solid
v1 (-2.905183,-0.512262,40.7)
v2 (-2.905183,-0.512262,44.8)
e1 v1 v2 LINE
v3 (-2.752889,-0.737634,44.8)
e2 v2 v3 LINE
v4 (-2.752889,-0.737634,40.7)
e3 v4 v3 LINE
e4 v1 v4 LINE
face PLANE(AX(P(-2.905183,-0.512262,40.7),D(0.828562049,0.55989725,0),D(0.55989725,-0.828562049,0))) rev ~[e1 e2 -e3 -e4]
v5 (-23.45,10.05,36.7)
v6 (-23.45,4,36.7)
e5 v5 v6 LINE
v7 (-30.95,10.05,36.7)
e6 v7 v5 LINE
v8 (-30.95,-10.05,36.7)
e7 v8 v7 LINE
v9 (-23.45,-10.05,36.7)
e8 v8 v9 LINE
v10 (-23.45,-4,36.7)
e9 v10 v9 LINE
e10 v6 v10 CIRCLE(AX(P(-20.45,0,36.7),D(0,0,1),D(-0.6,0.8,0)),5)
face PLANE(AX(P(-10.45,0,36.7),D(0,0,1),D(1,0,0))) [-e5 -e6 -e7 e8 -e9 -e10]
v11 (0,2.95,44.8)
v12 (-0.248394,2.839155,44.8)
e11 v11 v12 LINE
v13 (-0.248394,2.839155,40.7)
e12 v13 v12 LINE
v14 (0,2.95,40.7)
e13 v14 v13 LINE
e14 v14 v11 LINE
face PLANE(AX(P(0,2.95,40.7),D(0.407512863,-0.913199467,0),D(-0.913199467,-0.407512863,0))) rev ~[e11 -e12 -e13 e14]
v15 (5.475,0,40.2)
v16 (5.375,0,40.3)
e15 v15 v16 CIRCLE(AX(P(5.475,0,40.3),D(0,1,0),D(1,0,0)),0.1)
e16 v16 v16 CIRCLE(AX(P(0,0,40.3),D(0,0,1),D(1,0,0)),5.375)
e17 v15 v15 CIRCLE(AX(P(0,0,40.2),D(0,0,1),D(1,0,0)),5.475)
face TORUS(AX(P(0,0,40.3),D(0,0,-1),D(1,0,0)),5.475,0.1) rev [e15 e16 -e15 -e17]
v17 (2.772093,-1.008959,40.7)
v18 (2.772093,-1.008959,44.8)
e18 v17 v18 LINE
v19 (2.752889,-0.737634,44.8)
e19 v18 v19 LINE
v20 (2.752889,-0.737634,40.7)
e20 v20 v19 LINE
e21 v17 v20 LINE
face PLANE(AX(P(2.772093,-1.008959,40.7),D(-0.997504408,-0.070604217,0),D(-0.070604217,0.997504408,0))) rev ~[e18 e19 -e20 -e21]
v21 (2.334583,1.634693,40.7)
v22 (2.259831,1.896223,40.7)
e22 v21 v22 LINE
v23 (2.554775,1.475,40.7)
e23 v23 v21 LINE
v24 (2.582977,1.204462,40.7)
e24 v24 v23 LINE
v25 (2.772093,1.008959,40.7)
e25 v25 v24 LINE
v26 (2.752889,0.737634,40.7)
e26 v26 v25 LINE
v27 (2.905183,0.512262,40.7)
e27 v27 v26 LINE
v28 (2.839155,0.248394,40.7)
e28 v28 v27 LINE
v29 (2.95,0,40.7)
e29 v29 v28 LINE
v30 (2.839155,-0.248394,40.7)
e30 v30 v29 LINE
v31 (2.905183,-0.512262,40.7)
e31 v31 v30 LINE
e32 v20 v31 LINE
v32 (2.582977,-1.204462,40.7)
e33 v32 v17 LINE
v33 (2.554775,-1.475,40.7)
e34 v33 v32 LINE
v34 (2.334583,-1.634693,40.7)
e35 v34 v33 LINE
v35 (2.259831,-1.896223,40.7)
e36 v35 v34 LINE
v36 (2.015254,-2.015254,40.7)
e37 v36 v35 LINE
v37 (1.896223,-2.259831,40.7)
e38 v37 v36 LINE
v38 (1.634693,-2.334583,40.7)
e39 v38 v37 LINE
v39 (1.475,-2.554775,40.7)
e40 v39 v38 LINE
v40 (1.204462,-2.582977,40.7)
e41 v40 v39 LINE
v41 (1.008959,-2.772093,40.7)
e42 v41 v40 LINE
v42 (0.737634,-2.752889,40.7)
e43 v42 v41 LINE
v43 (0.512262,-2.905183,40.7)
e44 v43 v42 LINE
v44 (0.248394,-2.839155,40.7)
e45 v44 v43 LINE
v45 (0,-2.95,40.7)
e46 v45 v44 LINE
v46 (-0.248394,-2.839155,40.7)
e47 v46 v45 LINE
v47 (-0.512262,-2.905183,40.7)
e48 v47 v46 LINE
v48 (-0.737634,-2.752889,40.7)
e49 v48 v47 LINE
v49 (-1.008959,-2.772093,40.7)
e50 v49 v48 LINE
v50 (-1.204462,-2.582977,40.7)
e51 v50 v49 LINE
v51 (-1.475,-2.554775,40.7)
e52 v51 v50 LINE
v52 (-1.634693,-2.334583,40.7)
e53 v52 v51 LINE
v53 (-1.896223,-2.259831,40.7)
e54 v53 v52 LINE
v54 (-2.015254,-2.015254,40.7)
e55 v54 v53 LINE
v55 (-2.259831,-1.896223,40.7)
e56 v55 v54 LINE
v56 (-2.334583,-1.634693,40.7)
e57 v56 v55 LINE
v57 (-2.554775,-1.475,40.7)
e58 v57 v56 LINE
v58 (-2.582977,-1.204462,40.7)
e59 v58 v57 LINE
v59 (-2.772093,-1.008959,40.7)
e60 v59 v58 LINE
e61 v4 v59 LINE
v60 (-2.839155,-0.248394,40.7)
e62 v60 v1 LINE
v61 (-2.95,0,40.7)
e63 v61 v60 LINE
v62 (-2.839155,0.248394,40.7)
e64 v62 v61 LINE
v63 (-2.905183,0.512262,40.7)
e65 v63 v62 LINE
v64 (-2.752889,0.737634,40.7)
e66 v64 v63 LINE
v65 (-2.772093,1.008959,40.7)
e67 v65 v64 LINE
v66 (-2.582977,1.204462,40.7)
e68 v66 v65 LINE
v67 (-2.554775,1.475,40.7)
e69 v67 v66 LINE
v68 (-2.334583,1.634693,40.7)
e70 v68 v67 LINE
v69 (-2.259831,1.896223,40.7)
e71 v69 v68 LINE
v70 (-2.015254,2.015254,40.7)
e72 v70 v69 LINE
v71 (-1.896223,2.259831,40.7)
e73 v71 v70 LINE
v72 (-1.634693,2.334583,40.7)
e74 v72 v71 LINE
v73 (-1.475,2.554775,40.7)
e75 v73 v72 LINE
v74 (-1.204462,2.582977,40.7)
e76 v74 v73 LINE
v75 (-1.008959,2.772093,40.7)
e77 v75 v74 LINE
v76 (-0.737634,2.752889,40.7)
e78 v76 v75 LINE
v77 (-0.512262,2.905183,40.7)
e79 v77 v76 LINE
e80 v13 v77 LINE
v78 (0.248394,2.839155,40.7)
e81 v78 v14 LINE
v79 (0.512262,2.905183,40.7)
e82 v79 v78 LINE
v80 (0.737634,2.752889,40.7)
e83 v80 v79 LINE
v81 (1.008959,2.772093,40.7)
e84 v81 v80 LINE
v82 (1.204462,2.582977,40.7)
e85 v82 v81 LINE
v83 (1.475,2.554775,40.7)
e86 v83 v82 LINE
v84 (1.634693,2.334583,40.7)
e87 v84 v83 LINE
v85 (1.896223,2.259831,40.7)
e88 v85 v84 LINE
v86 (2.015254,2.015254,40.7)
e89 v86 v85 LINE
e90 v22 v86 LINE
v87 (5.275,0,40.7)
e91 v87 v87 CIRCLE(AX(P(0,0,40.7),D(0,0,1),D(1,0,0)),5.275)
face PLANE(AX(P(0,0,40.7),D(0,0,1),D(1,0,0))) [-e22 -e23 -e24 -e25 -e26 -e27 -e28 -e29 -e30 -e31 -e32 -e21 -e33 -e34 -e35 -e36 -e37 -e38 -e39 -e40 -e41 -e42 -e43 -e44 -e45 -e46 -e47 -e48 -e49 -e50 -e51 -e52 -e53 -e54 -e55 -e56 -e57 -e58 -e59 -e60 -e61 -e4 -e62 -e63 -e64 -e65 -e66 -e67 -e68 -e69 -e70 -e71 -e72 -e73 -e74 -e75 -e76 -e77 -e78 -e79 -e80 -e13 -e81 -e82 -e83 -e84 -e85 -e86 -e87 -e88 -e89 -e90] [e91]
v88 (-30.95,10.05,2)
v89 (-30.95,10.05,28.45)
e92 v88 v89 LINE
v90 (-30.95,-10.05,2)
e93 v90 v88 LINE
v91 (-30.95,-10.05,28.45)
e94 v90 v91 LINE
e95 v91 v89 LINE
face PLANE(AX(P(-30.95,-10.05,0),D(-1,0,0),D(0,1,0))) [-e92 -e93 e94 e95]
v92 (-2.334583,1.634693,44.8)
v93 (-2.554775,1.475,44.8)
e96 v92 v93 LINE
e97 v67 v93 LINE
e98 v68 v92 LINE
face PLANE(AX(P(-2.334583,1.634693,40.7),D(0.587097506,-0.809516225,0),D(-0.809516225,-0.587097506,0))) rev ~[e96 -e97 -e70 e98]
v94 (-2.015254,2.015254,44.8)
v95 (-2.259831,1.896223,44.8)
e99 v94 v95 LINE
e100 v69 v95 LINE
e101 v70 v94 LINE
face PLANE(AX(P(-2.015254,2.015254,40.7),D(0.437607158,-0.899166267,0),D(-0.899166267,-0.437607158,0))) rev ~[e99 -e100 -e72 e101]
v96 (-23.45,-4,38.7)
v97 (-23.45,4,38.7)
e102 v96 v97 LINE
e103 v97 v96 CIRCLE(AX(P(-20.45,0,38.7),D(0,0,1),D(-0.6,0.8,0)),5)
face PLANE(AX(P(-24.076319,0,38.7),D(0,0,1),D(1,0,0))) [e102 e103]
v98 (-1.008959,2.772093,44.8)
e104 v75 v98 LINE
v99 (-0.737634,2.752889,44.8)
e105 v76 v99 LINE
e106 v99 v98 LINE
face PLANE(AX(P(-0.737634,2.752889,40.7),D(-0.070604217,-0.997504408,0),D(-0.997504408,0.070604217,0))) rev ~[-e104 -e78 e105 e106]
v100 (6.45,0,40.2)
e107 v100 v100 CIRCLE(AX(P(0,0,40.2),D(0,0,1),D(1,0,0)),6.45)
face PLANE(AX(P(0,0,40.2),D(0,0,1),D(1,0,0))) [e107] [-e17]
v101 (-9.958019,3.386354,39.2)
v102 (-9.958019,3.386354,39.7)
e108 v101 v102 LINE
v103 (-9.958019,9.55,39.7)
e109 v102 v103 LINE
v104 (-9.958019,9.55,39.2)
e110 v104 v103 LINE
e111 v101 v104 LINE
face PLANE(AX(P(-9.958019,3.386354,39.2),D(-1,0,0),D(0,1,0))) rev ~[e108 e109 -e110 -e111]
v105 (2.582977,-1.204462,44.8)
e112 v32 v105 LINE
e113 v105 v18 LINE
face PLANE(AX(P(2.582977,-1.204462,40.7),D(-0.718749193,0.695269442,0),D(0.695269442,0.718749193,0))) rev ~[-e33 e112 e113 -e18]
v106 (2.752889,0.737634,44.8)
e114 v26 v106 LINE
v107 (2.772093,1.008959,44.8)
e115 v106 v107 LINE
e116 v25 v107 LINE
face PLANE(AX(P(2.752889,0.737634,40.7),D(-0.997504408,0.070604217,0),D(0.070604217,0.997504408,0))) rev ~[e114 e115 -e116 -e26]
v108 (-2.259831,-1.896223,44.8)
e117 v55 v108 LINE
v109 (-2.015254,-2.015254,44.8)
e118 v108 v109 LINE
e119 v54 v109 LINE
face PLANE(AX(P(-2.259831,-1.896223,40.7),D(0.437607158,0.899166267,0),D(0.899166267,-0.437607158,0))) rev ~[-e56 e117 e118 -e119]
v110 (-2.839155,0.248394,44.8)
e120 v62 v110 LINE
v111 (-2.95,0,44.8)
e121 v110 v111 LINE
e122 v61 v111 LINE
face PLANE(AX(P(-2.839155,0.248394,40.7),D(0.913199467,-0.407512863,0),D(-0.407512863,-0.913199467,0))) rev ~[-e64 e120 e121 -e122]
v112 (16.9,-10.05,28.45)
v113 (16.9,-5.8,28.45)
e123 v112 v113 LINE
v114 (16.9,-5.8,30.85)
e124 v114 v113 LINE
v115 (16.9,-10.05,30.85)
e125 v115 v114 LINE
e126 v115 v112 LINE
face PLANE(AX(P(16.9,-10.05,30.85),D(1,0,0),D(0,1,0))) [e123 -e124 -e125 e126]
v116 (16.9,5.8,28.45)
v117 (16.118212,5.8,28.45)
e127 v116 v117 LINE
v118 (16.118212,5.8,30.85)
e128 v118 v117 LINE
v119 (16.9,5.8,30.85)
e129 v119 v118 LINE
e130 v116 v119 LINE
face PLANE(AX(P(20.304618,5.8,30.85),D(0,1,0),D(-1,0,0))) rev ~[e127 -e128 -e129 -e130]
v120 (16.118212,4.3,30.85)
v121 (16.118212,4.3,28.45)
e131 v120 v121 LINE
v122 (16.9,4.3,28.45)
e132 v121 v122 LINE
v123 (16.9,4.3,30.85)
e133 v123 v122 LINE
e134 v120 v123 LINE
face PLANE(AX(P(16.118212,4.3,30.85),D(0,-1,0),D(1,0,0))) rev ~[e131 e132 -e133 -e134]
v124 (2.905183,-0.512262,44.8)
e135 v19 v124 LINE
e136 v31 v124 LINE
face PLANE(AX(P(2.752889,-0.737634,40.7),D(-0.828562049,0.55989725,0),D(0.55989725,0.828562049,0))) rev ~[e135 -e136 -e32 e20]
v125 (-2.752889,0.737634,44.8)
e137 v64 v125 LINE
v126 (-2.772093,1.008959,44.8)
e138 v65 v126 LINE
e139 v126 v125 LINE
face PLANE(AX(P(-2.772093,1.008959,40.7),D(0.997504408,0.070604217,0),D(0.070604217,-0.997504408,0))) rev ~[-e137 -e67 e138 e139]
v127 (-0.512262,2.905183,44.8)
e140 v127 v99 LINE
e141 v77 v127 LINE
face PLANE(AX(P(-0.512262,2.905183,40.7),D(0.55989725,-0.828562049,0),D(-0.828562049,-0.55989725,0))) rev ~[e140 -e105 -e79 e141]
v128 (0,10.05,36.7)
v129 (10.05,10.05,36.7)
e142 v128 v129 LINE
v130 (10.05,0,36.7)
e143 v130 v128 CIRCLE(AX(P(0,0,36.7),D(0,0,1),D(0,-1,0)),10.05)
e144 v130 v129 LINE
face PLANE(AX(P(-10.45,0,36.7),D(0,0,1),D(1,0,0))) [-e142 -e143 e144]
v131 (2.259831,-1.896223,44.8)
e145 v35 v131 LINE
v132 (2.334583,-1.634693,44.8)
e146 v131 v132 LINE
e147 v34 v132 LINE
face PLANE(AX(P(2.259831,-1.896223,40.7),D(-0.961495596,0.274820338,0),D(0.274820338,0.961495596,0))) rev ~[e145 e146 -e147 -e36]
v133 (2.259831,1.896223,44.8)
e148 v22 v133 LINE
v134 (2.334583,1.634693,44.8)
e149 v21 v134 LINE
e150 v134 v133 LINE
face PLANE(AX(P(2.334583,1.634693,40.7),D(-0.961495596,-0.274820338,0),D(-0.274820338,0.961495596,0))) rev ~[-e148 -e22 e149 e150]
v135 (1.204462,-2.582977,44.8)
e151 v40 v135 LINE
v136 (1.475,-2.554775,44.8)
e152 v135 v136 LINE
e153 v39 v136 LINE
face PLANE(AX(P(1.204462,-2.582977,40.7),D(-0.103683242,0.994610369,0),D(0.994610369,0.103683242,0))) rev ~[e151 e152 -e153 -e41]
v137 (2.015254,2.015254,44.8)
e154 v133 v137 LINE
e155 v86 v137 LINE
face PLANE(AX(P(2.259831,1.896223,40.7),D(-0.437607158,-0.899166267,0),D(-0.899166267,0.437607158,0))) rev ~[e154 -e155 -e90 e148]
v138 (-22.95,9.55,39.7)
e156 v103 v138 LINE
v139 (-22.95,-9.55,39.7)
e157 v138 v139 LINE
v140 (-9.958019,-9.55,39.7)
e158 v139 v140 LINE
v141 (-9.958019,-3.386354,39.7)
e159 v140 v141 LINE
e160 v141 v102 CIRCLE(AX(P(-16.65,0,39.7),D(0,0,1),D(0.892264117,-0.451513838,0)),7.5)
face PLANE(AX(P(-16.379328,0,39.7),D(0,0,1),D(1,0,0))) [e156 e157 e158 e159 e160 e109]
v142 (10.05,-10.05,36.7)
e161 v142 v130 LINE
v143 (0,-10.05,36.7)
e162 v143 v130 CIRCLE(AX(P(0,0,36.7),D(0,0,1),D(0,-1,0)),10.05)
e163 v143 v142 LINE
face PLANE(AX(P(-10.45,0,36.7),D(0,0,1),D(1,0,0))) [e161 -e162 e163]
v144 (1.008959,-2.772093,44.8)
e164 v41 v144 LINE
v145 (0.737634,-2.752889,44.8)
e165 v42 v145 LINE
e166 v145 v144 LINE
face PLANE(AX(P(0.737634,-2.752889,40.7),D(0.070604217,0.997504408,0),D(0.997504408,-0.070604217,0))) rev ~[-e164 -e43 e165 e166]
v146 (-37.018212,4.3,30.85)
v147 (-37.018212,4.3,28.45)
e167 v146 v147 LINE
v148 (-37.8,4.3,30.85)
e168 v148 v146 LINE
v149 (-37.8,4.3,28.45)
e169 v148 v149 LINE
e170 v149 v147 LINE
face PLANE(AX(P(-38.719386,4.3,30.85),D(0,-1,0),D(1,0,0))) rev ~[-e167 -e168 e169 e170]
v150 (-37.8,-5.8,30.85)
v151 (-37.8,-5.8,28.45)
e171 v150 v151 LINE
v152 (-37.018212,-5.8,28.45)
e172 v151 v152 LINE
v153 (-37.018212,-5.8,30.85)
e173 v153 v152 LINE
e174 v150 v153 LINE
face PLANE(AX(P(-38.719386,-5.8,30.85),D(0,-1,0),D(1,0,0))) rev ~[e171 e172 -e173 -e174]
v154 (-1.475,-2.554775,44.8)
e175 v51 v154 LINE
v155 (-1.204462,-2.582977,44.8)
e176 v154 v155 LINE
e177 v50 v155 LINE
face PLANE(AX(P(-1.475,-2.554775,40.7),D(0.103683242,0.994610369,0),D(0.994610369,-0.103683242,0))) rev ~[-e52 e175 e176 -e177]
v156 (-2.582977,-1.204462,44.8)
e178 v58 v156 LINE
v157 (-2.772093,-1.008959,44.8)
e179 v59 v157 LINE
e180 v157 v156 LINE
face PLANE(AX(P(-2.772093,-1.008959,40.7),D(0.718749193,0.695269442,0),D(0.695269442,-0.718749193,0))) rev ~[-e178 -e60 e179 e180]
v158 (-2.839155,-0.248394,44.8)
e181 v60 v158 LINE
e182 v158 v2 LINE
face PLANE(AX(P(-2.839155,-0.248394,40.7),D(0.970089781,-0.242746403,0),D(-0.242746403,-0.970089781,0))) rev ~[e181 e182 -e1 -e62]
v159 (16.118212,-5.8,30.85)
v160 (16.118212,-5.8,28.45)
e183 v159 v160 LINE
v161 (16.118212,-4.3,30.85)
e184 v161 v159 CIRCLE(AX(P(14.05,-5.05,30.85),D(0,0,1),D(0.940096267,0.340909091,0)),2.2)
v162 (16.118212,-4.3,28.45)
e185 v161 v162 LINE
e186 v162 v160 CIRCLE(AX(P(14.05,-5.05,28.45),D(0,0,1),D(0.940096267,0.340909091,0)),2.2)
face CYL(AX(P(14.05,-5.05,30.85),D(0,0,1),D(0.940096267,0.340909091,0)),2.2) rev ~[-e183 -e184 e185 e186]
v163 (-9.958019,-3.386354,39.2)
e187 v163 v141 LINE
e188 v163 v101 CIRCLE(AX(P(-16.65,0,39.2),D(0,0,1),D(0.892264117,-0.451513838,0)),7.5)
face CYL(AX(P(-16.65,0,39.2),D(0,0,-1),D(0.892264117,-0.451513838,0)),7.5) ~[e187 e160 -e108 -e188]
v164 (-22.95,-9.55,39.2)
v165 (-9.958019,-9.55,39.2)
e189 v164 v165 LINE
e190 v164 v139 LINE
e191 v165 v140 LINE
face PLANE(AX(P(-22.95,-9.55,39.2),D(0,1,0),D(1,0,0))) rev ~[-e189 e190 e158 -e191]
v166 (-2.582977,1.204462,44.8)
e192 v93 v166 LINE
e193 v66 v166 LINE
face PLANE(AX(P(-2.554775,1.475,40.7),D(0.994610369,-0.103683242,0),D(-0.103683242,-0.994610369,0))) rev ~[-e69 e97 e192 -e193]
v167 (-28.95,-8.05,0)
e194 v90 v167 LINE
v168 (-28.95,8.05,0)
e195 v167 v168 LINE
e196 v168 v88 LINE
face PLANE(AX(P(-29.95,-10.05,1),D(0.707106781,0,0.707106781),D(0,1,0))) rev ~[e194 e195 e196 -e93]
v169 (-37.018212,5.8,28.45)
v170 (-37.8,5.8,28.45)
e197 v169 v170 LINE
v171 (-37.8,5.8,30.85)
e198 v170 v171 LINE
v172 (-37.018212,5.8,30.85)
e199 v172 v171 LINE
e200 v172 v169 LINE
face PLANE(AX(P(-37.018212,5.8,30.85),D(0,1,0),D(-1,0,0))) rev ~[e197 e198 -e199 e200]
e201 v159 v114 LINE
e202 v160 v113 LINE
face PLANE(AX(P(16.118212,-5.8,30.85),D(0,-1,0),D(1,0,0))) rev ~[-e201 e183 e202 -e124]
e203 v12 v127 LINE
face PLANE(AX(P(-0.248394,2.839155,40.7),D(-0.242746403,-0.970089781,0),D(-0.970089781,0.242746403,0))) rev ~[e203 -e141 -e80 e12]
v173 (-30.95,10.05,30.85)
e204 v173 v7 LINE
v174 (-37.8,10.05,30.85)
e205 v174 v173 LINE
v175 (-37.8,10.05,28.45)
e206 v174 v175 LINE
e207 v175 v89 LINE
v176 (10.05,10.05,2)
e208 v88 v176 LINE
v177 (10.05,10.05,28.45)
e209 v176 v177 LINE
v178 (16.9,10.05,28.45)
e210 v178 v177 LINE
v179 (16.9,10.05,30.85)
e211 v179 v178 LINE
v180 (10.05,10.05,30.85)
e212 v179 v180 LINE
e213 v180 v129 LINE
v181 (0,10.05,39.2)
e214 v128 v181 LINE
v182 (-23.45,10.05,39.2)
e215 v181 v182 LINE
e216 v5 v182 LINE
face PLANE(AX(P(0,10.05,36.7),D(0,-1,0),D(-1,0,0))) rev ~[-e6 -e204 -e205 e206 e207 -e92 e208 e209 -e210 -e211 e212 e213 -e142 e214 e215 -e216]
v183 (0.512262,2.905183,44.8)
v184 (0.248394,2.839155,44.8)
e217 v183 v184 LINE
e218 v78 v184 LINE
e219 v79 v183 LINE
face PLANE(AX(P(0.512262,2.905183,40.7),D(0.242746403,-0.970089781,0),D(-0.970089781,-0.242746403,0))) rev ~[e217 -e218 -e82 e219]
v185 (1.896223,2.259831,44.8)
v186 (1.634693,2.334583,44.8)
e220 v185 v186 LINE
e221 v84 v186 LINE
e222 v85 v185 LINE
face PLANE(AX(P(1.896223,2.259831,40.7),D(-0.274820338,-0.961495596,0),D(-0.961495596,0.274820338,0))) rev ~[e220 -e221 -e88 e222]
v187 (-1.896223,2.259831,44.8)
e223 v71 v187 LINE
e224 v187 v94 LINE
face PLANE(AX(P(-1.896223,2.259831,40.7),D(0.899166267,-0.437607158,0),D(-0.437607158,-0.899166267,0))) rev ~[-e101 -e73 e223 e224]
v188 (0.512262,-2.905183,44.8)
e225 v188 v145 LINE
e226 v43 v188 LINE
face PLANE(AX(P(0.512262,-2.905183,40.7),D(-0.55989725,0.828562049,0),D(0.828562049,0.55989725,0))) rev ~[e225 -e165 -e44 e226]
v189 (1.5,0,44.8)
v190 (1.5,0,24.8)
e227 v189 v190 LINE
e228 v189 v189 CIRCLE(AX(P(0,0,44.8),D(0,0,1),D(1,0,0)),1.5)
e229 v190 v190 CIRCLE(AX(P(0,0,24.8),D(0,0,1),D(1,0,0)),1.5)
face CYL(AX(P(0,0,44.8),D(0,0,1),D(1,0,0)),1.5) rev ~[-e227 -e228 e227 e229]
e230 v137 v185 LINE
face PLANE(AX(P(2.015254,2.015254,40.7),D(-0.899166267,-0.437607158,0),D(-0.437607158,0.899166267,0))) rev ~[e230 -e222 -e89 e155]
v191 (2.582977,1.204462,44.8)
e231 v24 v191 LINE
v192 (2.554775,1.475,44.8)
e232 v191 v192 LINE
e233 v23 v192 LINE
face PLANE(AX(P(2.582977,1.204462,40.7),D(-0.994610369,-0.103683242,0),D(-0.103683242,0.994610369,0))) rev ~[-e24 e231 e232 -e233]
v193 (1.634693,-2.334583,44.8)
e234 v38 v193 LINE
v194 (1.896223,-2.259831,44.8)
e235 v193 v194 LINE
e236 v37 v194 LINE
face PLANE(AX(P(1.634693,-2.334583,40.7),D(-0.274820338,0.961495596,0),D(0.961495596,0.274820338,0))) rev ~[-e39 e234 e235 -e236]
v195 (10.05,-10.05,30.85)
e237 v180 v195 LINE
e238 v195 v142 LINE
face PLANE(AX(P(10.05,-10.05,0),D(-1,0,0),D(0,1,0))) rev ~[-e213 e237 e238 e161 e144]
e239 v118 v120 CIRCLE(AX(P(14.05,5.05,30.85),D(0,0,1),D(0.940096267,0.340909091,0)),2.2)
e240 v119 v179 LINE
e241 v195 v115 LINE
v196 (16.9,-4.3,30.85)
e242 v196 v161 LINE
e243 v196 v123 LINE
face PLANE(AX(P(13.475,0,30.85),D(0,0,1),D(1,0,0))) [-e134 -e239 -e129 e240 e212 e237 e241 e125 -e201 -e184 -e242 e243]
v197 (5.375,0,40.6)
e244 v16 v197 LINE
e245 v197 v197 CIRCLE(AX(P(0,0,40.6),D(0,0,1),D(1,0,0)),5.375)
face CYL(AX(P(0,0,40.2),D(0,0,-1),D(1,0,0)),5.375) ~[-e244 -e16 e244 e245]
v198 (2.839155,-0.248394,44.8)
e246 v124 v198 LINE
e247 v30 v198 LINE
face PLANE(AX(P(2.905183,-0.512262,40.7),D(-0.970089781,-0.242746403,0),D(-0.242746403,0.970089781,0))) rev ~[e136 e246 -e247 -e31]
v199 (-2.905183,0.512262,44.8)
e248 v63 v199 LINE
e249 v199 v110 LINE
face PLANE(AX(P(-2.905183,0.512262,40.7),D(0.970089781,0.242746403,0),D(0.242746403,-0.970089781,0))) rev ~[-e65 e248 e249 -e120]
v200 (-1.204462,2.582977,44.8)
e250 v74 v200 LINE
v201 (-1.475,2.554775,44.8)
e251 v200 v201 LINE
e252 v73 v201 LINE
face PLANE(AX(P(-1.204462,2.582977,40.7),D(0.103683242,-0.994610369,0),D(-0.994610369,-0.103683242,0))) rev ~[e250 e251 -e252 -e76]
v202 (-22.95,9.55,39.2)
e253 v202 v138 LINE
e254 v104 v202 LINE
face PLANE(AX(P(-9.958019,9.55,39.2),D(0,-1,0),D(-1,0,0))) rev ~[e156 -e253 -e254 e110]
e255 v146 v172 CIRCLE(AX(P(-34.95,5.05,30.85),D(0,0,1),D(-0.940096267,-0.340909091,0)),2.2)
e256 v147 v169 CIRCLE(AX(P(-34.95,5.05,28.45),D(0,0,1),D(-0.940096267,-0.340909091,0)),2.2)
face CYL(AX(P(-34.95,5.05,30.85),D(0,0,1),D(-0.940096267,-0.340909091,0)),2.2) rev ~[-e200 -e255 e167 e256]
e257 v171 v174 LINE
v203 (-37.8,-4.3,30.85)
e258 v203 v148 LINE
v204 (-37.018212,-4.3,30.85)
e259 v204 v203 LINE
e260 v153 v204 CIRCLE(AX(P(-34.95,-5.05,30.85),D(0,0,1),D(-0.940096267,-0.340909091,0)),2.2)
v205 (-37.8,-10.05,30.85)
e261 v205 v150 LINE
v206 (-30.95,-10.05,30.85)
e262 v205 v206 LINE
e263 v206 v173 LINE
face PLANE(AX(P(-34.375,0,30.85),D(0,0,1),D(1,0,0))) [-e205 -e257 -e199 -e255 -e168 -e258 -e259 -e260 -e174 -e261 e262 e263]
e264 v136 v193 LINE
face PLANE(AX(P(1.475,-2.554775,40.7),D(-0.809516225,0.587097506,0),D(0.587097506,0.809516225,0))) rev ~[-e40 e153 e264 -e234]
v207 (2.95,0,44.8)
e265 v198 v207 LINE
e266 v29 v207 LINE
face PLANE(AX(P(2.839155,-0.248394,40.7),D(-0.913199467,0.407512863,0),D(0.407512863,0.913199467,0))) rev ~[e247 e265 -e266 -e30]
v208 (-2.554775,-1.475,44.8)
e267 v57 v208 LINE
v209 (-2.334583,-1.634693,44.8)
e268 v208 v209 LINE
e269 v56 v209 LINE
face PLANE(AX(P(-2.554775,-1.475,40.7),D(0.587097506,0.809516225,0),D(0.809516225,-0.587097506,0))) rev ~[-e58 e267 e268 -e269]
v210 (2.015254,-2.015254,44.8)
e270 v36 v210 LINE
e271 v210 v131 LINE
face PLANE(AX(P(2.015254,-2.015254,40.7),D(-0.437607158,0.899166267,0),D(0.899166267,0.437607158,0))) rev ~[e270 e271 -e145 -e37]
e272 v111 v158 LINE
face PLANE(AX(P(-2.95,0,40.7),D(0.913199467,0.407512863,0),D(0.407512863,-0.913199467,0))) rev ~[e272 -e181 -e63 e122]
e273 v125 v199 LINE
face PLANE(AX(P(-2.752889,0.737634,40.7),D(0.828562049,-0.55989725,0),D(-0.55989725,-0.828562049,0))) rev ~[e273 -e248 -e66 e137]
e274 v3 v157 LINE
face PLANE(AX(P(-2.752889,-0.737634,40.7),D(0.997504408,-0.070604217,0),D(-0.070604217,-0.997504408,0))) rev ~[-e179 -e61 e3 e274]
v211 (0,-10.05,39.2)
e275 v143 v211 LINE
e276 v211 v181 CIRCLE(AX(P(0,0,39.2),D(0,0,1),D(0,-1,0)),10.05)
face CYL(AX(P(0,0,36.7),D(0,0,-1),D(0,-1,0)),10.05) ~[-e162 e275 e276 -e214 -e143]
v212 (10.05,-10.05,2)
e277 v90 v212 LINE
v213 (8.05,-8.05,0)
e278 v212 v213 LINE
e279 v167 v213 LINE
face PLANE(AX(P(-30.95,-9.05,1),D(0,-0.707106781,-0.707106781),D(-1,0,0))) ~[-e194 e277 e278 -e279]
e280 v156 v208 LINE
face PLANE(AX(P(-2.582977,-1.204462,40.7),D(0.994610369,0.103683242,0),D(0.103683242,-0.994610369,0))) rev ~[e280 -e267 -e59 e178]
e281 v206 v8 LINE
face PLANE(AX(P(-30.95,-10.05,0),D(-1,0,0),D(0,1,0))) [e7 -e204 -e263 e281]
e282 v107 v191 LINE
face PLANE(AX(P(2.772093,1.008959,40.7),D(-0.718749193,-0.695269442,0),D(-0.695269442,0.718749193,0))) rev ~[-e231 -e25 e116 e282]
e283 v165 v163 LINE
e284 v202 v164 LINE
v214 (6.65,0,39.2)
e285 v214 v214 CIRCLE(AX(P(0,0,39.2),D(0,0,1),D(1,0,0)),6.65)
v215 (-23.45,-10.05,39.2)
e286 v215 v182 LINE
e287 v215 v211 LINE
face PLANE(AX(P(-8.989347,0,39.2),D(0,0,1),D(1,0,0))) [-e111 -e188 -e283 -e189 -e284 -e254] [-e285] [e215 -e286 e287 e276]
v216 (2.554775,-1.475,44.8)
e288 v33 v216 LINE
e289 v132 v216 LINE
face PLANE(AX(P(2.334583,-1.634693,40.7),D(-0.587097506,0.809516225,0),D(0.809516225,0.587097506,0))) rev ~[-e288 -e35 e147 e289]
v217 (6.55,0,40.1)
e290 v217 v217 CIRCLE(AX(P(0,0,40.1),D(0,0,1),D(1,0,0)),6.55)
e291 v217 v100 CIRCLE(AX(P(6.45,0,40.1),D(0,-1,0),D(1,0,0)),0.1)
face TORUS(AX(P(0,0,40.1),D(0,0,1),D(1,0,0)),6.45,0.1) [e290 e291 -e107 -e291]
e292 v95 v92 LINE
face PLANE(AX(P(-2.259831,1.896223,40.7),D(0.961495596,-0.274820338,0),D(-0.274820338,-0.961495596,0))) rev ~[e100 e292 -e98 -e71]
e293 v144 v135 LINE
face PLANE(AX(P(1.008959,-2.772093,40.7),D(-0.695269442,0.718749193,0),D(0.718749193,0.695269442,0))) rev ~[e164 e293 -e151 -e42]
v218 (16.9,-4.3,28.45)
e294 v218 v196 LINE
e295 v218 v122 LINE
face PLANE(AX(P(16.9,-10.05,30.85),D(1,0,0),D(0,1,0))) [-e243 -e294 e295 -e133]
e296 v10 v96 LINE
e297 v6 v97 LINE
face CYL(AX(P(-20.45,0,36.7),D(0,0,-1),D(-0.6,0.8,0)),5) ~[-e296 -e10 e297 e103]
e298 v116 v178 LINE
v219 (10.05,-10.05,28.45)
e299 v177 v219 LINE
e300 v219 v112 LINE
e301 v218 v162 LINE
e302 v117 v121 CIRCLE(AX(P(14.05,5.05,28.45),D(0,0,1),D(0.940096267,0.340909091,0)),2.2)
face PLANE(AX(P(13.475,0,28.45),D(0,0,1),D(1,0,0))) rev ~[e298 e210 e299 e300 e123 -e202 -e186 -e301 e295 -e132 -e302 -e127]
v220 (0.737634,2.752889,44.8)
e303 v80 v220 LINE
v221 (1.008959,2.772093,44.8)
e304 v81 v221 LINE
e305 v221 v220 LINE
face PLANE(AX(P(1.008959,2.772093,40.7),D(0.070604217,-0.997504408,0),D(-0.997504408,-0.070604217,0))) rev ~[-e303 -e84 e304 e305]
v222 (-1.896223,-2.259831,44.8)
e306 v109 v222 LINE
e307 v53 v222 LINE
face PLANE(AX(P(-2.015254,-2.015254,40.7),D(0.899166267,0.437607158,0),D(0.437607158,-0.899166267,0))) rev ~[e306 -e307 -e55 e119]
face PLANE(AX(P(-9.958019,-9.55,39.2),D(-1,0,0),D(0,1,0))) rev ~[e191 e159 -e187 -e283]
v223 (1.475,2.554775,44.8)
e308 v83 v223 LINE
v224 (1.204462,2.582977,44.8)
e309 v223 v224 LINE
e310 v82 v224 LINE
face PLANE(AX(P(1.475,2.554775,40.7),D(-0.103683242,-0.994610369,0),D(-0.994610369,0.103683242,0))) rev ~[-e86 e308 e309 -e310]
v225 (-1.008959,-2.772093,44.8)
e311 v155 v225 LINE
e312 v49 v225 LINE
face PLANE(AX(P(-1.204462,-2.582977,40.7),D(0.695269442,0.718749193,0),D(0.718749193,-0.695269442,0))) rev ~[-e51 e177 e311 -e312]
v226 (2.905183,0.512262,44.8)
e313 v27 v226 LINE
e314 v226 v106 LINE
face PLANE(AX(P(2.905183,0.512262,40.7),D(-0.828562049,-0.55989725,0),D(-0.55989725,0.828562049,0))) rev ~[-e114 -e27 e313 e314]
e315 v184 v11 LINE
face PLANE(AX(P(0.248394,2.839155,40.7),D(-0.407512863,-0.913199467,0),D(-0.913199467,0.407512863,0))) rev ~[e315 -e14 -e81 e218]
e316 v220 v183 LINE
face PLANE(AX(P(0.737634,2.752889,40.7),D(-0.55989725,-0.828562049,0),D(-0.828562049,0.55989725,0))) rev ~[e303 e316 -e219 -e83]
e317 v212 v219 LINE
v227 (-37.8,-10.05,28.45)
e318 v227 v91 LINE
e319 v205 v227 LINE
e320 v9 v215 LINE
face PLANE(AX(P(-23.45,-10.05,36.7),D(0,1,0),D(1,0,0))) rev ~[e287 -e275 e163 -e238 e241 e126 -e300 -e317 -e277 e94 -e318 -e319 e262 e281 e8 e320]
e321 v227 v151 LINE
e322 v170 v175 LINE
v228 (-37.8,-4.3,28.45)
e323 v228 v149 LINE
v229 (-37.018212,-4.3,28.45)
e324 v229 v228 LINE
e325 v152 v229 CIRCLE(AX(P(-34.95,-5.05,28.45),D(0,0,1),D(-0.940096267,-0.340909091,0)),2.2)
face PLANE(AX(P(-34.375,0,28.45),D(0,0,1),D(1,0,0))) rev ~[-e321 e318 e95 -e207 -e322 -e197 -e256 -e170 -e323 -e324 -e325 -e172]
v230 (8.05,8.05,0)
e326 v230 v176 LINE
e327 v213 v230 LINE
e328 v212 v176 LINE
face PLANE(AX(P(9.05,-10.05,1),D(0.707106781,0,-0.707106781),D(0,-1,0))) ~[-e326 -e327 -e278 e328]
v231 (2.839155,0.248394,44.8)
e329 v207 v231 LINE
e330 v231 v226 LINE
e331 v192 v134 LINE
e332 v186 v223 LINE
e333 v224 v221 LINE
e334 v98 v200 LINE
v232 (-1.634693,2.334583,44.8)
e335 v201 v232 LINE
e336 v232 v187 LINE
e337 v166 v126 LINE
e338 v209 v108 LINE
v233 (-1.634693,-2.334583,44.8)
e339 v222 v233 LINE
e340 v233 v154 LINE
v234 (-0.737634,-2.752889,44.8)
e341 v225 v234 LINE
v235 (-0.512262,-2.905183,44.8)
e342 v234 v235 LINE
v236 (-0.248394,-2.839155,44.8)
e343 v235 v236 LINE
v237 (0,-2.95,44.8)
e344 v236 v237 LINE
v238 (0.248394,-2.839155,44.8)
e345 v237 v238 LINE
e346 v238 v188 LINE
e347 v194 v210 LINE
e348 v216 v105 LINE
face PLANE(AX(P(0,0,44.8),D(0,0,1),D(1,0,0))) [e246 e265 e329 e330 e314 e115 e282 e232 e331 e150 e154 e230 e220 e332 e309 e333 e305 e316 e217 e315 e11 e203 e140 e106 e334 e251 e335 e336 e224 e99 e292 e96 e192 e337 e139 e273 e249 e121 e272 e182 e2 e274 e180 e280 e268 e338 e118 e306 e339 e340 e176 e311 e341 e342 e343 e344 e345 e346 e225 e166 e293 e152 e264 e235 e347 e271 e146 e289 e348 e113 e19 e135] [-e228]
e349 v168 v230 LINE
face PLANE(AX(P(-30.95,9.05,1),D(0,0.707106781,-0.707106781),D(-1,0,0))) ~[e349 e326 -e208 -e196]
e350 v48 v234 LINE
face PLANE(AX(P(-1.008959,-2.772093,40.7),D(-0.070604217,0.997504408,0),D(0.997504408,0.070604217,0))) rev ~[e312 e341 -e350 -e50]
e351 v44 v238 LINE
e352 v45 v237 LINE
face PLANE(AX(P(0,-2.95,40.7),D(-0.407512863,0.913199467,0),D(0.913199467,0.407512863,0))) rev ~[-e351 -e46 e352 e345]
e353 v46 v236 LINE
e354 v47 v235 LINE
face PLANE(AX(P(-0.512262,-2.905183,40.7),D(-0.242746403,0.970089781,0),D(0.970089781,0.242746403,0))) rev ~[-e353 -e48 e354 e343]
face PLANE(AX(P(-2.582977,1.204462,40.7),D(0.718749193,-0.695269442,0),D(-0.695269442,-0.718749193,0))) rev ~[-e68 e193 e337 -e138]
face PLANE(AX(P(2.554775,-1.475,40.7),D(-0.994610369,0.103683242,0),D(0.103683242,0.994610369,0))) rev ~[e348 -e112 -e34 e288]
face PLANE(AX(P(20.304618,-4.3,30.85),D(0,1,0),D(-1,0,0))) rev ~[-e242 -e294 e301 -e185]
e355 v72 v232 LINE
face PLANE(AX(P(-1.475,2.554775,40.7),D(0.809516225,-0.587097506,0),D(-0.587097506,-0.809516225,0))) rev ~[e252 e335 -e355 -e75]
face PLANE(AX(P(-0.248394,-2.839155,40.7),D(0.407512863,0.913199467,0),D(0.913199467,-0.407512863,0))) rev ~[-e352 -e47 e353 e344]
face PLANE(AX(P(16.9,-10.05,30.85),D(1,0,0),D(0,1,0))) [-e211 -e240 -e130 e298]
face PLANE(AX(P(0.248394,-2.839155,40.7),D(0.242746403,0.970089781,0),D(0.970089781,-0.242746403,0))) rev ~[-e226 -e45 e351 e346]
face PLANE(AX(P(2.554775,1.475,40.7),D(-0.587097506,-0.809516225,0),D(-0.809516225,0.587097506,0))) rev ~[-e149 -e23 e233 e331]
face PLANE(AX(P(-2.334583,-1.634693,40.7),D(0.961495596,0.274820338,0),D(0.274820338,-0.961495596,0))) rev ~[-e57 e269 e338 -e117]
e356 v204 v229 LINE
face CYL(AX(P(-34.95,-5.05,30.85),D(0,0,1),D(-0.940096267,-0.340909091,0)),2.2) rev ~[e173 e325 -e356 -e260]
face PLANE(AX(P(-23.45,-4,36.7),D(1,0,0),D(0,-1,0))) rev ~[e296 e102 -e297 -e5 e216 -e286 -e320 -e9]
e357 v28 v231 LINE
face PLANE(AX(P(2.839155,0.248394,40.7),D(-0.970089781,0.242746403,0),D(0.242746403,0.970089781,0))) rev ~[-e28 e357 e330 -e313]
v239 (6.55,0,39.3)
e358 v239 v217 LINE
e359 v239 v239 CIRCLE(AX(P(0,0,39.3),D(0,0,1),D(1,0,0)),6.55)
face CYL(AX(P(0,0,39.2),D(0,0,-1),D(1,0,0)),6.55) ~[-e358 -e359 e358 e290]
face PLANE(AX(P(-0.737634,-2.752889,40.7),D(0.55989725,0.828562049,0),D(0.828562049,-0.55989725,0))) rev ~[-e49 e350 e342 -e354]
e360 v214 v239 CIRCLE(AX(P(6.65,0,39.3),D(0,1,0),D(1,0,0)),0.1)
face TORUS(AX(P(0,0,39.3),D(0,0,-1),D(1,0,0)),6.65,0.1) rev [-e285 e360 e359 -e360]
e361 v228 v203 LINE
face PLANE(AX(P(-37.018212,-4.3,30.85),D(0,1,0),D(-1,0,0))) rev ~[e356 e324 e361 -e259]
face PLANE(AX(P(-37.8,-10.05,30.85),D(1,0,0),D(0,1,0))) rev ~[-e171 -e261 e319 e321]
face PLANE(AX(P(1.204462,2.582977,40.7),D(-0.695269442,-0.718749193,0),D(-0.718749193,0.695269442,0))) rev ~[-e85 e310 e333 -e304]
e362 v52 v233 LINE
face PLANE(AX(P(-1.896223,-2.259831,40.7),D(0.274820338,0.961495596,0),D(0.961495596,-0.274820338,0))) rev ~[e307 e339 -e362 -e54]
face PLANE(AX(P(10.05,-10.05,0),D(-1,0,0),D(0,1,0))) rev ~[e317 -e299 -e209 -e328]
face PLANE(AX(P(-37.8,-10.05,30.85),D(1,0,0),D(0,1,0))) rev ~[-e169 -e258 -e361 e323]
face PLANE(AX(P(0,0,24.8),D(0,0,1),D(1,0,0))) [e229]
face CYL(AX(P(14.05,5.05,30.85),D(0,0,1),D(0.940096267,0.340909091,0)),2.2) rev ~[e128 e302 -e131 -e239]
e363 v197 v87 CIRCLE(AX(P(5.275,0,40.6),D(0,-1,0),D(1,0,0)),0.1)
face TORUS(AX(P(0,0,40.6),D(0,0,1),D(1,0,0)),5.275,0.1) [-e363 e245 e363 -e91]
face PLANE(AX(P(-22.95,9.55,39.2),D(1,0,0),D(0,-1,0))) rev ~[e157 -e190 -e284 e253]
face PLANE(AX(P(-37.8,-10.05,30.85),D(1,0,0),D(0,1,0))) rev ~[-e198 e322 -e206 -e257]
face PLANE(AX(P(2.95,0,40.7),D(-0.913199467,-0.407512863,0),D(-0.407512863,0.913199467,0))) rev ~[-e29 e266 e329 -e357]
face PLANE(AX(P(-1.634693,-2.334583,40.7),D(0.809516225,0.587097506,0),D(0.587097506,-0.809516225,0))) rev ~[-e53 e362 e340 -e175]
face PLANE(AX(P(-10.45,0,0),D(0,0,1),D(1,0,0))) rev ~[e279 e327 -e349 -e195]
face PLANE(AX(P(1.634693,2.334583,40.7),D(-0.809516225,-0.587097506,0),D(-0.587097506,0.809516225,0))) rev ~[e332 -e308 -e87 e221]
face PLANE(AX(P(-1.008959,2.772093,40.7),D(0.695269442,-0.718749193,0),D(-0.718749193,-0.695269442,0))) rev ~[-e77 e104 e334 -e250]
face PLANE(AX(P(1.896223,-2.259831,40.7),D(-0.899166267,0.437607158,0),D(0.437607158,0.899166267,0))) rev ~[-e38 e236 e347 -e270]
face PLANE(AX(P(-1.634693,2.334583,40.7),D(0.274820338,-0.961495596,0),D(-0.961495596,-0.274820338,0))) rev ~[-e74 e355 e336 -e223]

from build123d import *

# Parameters (mm, degrees)
F0_W      = 41
F0_H      = 20.1
F1_DEPTH  = 36.7
F3_DEPTH  = 2.5
F5_DEPTH  = 0.5
F6_R      = 6.55
F7_DEPTH  = 1
F8_R      = 5.375
F9_DEPTH  = 0.5
F12_DEPTH = 4.1
F13_SIZE  = 2
F15_W     = 6.85
F15_H     = 20.1
F16_DEPTH = 2.4
F18_DEPTH = 25
F19_R     = 0.1
F20_R     = 1.5
F21_DEPTH = 20
F23_DEPTH = 0.5


with BuildPart() as f1:
    # F0 (on Top) → F1 (new body)
    with BuildSketch(Plane.XY):
        with Locations((-10.45, 0)):
            Rectangle(F0_W, F0_H)
    extrude(amount=F1_DEPTH)

    # F2 (on face) → F3 (join)
    with BuildSketch(Plane.XY.offset(36.7)):
        with BuildLine():
            Line((-23.45, -10.05), (0, -10.05))
            ThreePointArc((0, -10.05), (10.05, 0), (0, 10.05))
            Line((0, 10.05), (-23.45, 10.05))
            Line((-23.45, 10.05), (-23.45, 4))
            ThreePointArc((-23.45, 4), (-25.45, 0), (-23.45, -4))
            Line((-23.45, -4), (-23.45, -10.05))
        make_face()
    extrude(amount=F3_DEPTH)

    # F4 (on face) → F5 (cut)
    with BuildSketch(Plane.XY.offset(39.2)):
        with BuildLine():
            Line((-23.45, -4), (-23.45, 4))
            ThreePointArc((-23.45, 4), (-25.45, 0), (-23.45, -4))
        make_face()
    extrude(amount=-F5_DEPTH, mode=Mode.SUBTRACT)

    # F6 (on face) → F7 (join)
    with BuildSketch(Plane.XY.offset(39.2)):
        Circle(F6_R)
    extrude(amount=F7_DEPTH)

    # F8 (on face) → F9 (join)
    with BuildSketch(Plane.XY.offset(40.2)):
        Circle(F8_R)
    extrude(amount=F9_DEPTH)

    # F11 (on face) → F12 (join)
    with BuildSketch(Plane.XY.offset(40.7)):
        Polygon((-0.2483938668, -2.8391548896), (0, -2.95), (0.2483938668, -2.8391548896), (0.5122621241, -2.9051828714), (0.7376342785, -2.7528886049), (1.0089594228, -2.7720932313), (1.204462046, -2.5829771931), (1.475, -2.5547749412), (1.6346928436, -2.3345833262), (1.8962234486, -2.2598311072), (2.0152543264, -2.0152543264), (2.2598311072, -1.8962234486), (2.3345833262, -1.6346928436), (2.5547749412, -1.475), (2.5829771931, -1.204462046), (2.7720932313, -1.0089594228), (2.7528886049, -0.7376342785), (2.9051828714, -0.5122621241), (2.8391548896, -0.2483938668), (2.95, 0), (2.8391548896, 0.2483938668), (2.9051828714, 0.5122621241), (2.7528886049, 0.7376342785), (2.7720932313, 1.0089594228), (2.5829771931, 1.204462046), (2.5547749412, 1.475), (2.3345833262, 1.6346928436), (2.2598311072, 1.8962234486), (2.0152543264, 2.0152543264), (1.8962234486, 2.2598311072), (1.6346928436, 2.3345833262), (1.475, 2.5547749412), (1.204462046, 2.5829771931), (1.0089594228, 2.7720932313), (0.7376342785, 2.7528886049), (0.5122621241, 2.9051828714), (0.2483938668, 2.8391548896), (0, 2.95), (-0.2483938668, 2.8391548896), (-0.5122621241, 2.9051828714), (-0.7376342785, 2.7528886049), (-1.0089594228, 2.7720932313), (-1.204462046, 2.5829771931), (-1.475, 2.5547749412), (-1.6346928436, 2.3345833262), (-1.8962234486, 2.2598311072), (-2.0152543264, 2.0152543264), (-2.2598311072, 1.8962234486), (-2.3345833262, 1.6346928436), (-2.5547749412, 1.475), (-2.5829771931, 1.204462046), (-2.7720932313, 1.0089594228), (-2.7528886049, 0.7376342785), (-2.9051828714, 0.5122621241), (-2.8391548896, 0.2483938668), (-2.95, 0), (-2.8391548896, -0.2483938668), (-2.9051828714, -0.5122621241), (-2.7528886049, -0.7376342785), (-2.7720932313, -1.0089594228), (-2.5829771931, -1.204462046), (-2.5547749412, -1.475), (-2.3345833262, -1.6346928436), (-2.2598311072, -1.8962234486), (-2.0152543264, -2.0152543264), (-1.8962234486, -2.2598311072), (-1.6346928436, -2.3345833262), (-1.475, -2.5547749412), (-1.204462046, -2.5829771931), (-1.0089594228, -2.7720932313), (-0.7376342785, -2.7528886049), (-0.5122621241, -2.9051828714), align=None)
    extrude(amount=F12_DEPTH)

    # F13
    f13_edges = [f1.edges().sort_by_distance(p)[0] for p in [
        (-10.45, 10.05, 0),
        (10.05, 0, 0),
        (-10.45, -10.05, 0),
        (-30.95, 0, 0),
    ]]
    chamfer(f13_edges, length=F13_SIZE)

    # F15 (on offset) → F16 (join)
    with BuildSketch(Plane.XY.offset(30.85)):
        Polygon((10.05, 10.05), (10.05, 0), (10.05, -10.05), (16.9, -10.05), (16.9, 10.05), align=None)
        with Locations((-34.375, 0)):
            Rectangle(F15_W, F15_H)
    extrude(amount=-F16_DEPTH)

    # F17 (on face) → F18 (cut)
    with BuildSketch(Plane.XY.offset(30.85)):
        with BuildLine():
            Line((-38.7193858624, 4.3), (-37.018211788, 4.3))
            ThreePointArc((-37.018211788, 4.3), (-32.75, 5.05), (-37.018211788, 5.8))
            Line((-37.018211788, 5.8), (-38.7193858624, 5.8))
            Line((-38.7193858624, 5.8), (-38.7193858624, 4.3))
        make_face()
        with BuildLine():
            Line((20.3046184033, 5.8), (16.118211788, 5.8))
            ThreePointArc((16.118211788, 5.8), (11.85, 5.05), (16.118211788, 4.3))
            Line((16.118211788, 4.3), (20.3046184033, 4.3))
            Line((20.3046184033, 4.3), (20.3046184033, 5.8))
        make_face()
        with BuildLine():
            Line((-38.7193858624, -4.3), (-38.7193858624, -5.8))
            Line((-38.7193858624, -5.8), (-37.018211788, -5.8))
            ThreePointArc((-37.018211788, -5.8), (-32.75, -5.05), (-37.018211788, -4.3))
            Line((-37.018211788, -4.3), (-38.7193858624, -4.3))
        make_face()
        with BuildLine():
            Line((16.118211788, -5.8), (20.3046184033, -5.8))
            Line((20.3046184033, -5.8), (20.3046184033, -4.3))
            Line((20.3046184033, -4.3), (16.118211788, -4.3))
            ThreePointArc((16.118211788, -4.3), (11.85, -5.05), (16.118211788, -5.8))
        make_face()
    extrude(amount=-F18_DEPTH, mode=Mode.SUBTRACT)

    # F19
    f19_edges = [f1.edges().sort_by_distance(p)[0] for p in [
        (-6.55, 0, 39.2),
        (-6.55, 0, 40.2),
        (-5.375, 0, 40.2),
        (-5.375, 0, 40.7),
    ]]
    fillet(f19_edges, radius=F19_R)

    # F20 (on face) → F21 (cut)
    with BuildSketch(Plane.XY.offset(44.8)):
        Circle(F20_R)
    extrude(amount=-F21_DEPTH, mode=Mode.SUBTRACT)

    # F22 (on face) → F23 (join)
    with BuildSketch(Plane.XY.offset(39.2)):
        with BuildLine():
            Line((-9.9580191225, 9.55), (-22.95, 9.55))
            Line((-22.95, 9.55), (-22.95, -9.55))
            Line((-22.95, -9.55), (-9.9580191225, -9.55))
            Line((-9.9580191225, -9.55), (-9.9580191225, -3.3863537817))
            ThreePointArc((-9.9580191225, -3.3863537817), (-9.15, 0), (-9.9580191225, 3.3863537817))
            Line((-9.9580191225, 3.3863537817), (-9.9580191225, 9.55))
        make_face()
    extrude(amount=F23_DEPTH)


solid = f1.part
